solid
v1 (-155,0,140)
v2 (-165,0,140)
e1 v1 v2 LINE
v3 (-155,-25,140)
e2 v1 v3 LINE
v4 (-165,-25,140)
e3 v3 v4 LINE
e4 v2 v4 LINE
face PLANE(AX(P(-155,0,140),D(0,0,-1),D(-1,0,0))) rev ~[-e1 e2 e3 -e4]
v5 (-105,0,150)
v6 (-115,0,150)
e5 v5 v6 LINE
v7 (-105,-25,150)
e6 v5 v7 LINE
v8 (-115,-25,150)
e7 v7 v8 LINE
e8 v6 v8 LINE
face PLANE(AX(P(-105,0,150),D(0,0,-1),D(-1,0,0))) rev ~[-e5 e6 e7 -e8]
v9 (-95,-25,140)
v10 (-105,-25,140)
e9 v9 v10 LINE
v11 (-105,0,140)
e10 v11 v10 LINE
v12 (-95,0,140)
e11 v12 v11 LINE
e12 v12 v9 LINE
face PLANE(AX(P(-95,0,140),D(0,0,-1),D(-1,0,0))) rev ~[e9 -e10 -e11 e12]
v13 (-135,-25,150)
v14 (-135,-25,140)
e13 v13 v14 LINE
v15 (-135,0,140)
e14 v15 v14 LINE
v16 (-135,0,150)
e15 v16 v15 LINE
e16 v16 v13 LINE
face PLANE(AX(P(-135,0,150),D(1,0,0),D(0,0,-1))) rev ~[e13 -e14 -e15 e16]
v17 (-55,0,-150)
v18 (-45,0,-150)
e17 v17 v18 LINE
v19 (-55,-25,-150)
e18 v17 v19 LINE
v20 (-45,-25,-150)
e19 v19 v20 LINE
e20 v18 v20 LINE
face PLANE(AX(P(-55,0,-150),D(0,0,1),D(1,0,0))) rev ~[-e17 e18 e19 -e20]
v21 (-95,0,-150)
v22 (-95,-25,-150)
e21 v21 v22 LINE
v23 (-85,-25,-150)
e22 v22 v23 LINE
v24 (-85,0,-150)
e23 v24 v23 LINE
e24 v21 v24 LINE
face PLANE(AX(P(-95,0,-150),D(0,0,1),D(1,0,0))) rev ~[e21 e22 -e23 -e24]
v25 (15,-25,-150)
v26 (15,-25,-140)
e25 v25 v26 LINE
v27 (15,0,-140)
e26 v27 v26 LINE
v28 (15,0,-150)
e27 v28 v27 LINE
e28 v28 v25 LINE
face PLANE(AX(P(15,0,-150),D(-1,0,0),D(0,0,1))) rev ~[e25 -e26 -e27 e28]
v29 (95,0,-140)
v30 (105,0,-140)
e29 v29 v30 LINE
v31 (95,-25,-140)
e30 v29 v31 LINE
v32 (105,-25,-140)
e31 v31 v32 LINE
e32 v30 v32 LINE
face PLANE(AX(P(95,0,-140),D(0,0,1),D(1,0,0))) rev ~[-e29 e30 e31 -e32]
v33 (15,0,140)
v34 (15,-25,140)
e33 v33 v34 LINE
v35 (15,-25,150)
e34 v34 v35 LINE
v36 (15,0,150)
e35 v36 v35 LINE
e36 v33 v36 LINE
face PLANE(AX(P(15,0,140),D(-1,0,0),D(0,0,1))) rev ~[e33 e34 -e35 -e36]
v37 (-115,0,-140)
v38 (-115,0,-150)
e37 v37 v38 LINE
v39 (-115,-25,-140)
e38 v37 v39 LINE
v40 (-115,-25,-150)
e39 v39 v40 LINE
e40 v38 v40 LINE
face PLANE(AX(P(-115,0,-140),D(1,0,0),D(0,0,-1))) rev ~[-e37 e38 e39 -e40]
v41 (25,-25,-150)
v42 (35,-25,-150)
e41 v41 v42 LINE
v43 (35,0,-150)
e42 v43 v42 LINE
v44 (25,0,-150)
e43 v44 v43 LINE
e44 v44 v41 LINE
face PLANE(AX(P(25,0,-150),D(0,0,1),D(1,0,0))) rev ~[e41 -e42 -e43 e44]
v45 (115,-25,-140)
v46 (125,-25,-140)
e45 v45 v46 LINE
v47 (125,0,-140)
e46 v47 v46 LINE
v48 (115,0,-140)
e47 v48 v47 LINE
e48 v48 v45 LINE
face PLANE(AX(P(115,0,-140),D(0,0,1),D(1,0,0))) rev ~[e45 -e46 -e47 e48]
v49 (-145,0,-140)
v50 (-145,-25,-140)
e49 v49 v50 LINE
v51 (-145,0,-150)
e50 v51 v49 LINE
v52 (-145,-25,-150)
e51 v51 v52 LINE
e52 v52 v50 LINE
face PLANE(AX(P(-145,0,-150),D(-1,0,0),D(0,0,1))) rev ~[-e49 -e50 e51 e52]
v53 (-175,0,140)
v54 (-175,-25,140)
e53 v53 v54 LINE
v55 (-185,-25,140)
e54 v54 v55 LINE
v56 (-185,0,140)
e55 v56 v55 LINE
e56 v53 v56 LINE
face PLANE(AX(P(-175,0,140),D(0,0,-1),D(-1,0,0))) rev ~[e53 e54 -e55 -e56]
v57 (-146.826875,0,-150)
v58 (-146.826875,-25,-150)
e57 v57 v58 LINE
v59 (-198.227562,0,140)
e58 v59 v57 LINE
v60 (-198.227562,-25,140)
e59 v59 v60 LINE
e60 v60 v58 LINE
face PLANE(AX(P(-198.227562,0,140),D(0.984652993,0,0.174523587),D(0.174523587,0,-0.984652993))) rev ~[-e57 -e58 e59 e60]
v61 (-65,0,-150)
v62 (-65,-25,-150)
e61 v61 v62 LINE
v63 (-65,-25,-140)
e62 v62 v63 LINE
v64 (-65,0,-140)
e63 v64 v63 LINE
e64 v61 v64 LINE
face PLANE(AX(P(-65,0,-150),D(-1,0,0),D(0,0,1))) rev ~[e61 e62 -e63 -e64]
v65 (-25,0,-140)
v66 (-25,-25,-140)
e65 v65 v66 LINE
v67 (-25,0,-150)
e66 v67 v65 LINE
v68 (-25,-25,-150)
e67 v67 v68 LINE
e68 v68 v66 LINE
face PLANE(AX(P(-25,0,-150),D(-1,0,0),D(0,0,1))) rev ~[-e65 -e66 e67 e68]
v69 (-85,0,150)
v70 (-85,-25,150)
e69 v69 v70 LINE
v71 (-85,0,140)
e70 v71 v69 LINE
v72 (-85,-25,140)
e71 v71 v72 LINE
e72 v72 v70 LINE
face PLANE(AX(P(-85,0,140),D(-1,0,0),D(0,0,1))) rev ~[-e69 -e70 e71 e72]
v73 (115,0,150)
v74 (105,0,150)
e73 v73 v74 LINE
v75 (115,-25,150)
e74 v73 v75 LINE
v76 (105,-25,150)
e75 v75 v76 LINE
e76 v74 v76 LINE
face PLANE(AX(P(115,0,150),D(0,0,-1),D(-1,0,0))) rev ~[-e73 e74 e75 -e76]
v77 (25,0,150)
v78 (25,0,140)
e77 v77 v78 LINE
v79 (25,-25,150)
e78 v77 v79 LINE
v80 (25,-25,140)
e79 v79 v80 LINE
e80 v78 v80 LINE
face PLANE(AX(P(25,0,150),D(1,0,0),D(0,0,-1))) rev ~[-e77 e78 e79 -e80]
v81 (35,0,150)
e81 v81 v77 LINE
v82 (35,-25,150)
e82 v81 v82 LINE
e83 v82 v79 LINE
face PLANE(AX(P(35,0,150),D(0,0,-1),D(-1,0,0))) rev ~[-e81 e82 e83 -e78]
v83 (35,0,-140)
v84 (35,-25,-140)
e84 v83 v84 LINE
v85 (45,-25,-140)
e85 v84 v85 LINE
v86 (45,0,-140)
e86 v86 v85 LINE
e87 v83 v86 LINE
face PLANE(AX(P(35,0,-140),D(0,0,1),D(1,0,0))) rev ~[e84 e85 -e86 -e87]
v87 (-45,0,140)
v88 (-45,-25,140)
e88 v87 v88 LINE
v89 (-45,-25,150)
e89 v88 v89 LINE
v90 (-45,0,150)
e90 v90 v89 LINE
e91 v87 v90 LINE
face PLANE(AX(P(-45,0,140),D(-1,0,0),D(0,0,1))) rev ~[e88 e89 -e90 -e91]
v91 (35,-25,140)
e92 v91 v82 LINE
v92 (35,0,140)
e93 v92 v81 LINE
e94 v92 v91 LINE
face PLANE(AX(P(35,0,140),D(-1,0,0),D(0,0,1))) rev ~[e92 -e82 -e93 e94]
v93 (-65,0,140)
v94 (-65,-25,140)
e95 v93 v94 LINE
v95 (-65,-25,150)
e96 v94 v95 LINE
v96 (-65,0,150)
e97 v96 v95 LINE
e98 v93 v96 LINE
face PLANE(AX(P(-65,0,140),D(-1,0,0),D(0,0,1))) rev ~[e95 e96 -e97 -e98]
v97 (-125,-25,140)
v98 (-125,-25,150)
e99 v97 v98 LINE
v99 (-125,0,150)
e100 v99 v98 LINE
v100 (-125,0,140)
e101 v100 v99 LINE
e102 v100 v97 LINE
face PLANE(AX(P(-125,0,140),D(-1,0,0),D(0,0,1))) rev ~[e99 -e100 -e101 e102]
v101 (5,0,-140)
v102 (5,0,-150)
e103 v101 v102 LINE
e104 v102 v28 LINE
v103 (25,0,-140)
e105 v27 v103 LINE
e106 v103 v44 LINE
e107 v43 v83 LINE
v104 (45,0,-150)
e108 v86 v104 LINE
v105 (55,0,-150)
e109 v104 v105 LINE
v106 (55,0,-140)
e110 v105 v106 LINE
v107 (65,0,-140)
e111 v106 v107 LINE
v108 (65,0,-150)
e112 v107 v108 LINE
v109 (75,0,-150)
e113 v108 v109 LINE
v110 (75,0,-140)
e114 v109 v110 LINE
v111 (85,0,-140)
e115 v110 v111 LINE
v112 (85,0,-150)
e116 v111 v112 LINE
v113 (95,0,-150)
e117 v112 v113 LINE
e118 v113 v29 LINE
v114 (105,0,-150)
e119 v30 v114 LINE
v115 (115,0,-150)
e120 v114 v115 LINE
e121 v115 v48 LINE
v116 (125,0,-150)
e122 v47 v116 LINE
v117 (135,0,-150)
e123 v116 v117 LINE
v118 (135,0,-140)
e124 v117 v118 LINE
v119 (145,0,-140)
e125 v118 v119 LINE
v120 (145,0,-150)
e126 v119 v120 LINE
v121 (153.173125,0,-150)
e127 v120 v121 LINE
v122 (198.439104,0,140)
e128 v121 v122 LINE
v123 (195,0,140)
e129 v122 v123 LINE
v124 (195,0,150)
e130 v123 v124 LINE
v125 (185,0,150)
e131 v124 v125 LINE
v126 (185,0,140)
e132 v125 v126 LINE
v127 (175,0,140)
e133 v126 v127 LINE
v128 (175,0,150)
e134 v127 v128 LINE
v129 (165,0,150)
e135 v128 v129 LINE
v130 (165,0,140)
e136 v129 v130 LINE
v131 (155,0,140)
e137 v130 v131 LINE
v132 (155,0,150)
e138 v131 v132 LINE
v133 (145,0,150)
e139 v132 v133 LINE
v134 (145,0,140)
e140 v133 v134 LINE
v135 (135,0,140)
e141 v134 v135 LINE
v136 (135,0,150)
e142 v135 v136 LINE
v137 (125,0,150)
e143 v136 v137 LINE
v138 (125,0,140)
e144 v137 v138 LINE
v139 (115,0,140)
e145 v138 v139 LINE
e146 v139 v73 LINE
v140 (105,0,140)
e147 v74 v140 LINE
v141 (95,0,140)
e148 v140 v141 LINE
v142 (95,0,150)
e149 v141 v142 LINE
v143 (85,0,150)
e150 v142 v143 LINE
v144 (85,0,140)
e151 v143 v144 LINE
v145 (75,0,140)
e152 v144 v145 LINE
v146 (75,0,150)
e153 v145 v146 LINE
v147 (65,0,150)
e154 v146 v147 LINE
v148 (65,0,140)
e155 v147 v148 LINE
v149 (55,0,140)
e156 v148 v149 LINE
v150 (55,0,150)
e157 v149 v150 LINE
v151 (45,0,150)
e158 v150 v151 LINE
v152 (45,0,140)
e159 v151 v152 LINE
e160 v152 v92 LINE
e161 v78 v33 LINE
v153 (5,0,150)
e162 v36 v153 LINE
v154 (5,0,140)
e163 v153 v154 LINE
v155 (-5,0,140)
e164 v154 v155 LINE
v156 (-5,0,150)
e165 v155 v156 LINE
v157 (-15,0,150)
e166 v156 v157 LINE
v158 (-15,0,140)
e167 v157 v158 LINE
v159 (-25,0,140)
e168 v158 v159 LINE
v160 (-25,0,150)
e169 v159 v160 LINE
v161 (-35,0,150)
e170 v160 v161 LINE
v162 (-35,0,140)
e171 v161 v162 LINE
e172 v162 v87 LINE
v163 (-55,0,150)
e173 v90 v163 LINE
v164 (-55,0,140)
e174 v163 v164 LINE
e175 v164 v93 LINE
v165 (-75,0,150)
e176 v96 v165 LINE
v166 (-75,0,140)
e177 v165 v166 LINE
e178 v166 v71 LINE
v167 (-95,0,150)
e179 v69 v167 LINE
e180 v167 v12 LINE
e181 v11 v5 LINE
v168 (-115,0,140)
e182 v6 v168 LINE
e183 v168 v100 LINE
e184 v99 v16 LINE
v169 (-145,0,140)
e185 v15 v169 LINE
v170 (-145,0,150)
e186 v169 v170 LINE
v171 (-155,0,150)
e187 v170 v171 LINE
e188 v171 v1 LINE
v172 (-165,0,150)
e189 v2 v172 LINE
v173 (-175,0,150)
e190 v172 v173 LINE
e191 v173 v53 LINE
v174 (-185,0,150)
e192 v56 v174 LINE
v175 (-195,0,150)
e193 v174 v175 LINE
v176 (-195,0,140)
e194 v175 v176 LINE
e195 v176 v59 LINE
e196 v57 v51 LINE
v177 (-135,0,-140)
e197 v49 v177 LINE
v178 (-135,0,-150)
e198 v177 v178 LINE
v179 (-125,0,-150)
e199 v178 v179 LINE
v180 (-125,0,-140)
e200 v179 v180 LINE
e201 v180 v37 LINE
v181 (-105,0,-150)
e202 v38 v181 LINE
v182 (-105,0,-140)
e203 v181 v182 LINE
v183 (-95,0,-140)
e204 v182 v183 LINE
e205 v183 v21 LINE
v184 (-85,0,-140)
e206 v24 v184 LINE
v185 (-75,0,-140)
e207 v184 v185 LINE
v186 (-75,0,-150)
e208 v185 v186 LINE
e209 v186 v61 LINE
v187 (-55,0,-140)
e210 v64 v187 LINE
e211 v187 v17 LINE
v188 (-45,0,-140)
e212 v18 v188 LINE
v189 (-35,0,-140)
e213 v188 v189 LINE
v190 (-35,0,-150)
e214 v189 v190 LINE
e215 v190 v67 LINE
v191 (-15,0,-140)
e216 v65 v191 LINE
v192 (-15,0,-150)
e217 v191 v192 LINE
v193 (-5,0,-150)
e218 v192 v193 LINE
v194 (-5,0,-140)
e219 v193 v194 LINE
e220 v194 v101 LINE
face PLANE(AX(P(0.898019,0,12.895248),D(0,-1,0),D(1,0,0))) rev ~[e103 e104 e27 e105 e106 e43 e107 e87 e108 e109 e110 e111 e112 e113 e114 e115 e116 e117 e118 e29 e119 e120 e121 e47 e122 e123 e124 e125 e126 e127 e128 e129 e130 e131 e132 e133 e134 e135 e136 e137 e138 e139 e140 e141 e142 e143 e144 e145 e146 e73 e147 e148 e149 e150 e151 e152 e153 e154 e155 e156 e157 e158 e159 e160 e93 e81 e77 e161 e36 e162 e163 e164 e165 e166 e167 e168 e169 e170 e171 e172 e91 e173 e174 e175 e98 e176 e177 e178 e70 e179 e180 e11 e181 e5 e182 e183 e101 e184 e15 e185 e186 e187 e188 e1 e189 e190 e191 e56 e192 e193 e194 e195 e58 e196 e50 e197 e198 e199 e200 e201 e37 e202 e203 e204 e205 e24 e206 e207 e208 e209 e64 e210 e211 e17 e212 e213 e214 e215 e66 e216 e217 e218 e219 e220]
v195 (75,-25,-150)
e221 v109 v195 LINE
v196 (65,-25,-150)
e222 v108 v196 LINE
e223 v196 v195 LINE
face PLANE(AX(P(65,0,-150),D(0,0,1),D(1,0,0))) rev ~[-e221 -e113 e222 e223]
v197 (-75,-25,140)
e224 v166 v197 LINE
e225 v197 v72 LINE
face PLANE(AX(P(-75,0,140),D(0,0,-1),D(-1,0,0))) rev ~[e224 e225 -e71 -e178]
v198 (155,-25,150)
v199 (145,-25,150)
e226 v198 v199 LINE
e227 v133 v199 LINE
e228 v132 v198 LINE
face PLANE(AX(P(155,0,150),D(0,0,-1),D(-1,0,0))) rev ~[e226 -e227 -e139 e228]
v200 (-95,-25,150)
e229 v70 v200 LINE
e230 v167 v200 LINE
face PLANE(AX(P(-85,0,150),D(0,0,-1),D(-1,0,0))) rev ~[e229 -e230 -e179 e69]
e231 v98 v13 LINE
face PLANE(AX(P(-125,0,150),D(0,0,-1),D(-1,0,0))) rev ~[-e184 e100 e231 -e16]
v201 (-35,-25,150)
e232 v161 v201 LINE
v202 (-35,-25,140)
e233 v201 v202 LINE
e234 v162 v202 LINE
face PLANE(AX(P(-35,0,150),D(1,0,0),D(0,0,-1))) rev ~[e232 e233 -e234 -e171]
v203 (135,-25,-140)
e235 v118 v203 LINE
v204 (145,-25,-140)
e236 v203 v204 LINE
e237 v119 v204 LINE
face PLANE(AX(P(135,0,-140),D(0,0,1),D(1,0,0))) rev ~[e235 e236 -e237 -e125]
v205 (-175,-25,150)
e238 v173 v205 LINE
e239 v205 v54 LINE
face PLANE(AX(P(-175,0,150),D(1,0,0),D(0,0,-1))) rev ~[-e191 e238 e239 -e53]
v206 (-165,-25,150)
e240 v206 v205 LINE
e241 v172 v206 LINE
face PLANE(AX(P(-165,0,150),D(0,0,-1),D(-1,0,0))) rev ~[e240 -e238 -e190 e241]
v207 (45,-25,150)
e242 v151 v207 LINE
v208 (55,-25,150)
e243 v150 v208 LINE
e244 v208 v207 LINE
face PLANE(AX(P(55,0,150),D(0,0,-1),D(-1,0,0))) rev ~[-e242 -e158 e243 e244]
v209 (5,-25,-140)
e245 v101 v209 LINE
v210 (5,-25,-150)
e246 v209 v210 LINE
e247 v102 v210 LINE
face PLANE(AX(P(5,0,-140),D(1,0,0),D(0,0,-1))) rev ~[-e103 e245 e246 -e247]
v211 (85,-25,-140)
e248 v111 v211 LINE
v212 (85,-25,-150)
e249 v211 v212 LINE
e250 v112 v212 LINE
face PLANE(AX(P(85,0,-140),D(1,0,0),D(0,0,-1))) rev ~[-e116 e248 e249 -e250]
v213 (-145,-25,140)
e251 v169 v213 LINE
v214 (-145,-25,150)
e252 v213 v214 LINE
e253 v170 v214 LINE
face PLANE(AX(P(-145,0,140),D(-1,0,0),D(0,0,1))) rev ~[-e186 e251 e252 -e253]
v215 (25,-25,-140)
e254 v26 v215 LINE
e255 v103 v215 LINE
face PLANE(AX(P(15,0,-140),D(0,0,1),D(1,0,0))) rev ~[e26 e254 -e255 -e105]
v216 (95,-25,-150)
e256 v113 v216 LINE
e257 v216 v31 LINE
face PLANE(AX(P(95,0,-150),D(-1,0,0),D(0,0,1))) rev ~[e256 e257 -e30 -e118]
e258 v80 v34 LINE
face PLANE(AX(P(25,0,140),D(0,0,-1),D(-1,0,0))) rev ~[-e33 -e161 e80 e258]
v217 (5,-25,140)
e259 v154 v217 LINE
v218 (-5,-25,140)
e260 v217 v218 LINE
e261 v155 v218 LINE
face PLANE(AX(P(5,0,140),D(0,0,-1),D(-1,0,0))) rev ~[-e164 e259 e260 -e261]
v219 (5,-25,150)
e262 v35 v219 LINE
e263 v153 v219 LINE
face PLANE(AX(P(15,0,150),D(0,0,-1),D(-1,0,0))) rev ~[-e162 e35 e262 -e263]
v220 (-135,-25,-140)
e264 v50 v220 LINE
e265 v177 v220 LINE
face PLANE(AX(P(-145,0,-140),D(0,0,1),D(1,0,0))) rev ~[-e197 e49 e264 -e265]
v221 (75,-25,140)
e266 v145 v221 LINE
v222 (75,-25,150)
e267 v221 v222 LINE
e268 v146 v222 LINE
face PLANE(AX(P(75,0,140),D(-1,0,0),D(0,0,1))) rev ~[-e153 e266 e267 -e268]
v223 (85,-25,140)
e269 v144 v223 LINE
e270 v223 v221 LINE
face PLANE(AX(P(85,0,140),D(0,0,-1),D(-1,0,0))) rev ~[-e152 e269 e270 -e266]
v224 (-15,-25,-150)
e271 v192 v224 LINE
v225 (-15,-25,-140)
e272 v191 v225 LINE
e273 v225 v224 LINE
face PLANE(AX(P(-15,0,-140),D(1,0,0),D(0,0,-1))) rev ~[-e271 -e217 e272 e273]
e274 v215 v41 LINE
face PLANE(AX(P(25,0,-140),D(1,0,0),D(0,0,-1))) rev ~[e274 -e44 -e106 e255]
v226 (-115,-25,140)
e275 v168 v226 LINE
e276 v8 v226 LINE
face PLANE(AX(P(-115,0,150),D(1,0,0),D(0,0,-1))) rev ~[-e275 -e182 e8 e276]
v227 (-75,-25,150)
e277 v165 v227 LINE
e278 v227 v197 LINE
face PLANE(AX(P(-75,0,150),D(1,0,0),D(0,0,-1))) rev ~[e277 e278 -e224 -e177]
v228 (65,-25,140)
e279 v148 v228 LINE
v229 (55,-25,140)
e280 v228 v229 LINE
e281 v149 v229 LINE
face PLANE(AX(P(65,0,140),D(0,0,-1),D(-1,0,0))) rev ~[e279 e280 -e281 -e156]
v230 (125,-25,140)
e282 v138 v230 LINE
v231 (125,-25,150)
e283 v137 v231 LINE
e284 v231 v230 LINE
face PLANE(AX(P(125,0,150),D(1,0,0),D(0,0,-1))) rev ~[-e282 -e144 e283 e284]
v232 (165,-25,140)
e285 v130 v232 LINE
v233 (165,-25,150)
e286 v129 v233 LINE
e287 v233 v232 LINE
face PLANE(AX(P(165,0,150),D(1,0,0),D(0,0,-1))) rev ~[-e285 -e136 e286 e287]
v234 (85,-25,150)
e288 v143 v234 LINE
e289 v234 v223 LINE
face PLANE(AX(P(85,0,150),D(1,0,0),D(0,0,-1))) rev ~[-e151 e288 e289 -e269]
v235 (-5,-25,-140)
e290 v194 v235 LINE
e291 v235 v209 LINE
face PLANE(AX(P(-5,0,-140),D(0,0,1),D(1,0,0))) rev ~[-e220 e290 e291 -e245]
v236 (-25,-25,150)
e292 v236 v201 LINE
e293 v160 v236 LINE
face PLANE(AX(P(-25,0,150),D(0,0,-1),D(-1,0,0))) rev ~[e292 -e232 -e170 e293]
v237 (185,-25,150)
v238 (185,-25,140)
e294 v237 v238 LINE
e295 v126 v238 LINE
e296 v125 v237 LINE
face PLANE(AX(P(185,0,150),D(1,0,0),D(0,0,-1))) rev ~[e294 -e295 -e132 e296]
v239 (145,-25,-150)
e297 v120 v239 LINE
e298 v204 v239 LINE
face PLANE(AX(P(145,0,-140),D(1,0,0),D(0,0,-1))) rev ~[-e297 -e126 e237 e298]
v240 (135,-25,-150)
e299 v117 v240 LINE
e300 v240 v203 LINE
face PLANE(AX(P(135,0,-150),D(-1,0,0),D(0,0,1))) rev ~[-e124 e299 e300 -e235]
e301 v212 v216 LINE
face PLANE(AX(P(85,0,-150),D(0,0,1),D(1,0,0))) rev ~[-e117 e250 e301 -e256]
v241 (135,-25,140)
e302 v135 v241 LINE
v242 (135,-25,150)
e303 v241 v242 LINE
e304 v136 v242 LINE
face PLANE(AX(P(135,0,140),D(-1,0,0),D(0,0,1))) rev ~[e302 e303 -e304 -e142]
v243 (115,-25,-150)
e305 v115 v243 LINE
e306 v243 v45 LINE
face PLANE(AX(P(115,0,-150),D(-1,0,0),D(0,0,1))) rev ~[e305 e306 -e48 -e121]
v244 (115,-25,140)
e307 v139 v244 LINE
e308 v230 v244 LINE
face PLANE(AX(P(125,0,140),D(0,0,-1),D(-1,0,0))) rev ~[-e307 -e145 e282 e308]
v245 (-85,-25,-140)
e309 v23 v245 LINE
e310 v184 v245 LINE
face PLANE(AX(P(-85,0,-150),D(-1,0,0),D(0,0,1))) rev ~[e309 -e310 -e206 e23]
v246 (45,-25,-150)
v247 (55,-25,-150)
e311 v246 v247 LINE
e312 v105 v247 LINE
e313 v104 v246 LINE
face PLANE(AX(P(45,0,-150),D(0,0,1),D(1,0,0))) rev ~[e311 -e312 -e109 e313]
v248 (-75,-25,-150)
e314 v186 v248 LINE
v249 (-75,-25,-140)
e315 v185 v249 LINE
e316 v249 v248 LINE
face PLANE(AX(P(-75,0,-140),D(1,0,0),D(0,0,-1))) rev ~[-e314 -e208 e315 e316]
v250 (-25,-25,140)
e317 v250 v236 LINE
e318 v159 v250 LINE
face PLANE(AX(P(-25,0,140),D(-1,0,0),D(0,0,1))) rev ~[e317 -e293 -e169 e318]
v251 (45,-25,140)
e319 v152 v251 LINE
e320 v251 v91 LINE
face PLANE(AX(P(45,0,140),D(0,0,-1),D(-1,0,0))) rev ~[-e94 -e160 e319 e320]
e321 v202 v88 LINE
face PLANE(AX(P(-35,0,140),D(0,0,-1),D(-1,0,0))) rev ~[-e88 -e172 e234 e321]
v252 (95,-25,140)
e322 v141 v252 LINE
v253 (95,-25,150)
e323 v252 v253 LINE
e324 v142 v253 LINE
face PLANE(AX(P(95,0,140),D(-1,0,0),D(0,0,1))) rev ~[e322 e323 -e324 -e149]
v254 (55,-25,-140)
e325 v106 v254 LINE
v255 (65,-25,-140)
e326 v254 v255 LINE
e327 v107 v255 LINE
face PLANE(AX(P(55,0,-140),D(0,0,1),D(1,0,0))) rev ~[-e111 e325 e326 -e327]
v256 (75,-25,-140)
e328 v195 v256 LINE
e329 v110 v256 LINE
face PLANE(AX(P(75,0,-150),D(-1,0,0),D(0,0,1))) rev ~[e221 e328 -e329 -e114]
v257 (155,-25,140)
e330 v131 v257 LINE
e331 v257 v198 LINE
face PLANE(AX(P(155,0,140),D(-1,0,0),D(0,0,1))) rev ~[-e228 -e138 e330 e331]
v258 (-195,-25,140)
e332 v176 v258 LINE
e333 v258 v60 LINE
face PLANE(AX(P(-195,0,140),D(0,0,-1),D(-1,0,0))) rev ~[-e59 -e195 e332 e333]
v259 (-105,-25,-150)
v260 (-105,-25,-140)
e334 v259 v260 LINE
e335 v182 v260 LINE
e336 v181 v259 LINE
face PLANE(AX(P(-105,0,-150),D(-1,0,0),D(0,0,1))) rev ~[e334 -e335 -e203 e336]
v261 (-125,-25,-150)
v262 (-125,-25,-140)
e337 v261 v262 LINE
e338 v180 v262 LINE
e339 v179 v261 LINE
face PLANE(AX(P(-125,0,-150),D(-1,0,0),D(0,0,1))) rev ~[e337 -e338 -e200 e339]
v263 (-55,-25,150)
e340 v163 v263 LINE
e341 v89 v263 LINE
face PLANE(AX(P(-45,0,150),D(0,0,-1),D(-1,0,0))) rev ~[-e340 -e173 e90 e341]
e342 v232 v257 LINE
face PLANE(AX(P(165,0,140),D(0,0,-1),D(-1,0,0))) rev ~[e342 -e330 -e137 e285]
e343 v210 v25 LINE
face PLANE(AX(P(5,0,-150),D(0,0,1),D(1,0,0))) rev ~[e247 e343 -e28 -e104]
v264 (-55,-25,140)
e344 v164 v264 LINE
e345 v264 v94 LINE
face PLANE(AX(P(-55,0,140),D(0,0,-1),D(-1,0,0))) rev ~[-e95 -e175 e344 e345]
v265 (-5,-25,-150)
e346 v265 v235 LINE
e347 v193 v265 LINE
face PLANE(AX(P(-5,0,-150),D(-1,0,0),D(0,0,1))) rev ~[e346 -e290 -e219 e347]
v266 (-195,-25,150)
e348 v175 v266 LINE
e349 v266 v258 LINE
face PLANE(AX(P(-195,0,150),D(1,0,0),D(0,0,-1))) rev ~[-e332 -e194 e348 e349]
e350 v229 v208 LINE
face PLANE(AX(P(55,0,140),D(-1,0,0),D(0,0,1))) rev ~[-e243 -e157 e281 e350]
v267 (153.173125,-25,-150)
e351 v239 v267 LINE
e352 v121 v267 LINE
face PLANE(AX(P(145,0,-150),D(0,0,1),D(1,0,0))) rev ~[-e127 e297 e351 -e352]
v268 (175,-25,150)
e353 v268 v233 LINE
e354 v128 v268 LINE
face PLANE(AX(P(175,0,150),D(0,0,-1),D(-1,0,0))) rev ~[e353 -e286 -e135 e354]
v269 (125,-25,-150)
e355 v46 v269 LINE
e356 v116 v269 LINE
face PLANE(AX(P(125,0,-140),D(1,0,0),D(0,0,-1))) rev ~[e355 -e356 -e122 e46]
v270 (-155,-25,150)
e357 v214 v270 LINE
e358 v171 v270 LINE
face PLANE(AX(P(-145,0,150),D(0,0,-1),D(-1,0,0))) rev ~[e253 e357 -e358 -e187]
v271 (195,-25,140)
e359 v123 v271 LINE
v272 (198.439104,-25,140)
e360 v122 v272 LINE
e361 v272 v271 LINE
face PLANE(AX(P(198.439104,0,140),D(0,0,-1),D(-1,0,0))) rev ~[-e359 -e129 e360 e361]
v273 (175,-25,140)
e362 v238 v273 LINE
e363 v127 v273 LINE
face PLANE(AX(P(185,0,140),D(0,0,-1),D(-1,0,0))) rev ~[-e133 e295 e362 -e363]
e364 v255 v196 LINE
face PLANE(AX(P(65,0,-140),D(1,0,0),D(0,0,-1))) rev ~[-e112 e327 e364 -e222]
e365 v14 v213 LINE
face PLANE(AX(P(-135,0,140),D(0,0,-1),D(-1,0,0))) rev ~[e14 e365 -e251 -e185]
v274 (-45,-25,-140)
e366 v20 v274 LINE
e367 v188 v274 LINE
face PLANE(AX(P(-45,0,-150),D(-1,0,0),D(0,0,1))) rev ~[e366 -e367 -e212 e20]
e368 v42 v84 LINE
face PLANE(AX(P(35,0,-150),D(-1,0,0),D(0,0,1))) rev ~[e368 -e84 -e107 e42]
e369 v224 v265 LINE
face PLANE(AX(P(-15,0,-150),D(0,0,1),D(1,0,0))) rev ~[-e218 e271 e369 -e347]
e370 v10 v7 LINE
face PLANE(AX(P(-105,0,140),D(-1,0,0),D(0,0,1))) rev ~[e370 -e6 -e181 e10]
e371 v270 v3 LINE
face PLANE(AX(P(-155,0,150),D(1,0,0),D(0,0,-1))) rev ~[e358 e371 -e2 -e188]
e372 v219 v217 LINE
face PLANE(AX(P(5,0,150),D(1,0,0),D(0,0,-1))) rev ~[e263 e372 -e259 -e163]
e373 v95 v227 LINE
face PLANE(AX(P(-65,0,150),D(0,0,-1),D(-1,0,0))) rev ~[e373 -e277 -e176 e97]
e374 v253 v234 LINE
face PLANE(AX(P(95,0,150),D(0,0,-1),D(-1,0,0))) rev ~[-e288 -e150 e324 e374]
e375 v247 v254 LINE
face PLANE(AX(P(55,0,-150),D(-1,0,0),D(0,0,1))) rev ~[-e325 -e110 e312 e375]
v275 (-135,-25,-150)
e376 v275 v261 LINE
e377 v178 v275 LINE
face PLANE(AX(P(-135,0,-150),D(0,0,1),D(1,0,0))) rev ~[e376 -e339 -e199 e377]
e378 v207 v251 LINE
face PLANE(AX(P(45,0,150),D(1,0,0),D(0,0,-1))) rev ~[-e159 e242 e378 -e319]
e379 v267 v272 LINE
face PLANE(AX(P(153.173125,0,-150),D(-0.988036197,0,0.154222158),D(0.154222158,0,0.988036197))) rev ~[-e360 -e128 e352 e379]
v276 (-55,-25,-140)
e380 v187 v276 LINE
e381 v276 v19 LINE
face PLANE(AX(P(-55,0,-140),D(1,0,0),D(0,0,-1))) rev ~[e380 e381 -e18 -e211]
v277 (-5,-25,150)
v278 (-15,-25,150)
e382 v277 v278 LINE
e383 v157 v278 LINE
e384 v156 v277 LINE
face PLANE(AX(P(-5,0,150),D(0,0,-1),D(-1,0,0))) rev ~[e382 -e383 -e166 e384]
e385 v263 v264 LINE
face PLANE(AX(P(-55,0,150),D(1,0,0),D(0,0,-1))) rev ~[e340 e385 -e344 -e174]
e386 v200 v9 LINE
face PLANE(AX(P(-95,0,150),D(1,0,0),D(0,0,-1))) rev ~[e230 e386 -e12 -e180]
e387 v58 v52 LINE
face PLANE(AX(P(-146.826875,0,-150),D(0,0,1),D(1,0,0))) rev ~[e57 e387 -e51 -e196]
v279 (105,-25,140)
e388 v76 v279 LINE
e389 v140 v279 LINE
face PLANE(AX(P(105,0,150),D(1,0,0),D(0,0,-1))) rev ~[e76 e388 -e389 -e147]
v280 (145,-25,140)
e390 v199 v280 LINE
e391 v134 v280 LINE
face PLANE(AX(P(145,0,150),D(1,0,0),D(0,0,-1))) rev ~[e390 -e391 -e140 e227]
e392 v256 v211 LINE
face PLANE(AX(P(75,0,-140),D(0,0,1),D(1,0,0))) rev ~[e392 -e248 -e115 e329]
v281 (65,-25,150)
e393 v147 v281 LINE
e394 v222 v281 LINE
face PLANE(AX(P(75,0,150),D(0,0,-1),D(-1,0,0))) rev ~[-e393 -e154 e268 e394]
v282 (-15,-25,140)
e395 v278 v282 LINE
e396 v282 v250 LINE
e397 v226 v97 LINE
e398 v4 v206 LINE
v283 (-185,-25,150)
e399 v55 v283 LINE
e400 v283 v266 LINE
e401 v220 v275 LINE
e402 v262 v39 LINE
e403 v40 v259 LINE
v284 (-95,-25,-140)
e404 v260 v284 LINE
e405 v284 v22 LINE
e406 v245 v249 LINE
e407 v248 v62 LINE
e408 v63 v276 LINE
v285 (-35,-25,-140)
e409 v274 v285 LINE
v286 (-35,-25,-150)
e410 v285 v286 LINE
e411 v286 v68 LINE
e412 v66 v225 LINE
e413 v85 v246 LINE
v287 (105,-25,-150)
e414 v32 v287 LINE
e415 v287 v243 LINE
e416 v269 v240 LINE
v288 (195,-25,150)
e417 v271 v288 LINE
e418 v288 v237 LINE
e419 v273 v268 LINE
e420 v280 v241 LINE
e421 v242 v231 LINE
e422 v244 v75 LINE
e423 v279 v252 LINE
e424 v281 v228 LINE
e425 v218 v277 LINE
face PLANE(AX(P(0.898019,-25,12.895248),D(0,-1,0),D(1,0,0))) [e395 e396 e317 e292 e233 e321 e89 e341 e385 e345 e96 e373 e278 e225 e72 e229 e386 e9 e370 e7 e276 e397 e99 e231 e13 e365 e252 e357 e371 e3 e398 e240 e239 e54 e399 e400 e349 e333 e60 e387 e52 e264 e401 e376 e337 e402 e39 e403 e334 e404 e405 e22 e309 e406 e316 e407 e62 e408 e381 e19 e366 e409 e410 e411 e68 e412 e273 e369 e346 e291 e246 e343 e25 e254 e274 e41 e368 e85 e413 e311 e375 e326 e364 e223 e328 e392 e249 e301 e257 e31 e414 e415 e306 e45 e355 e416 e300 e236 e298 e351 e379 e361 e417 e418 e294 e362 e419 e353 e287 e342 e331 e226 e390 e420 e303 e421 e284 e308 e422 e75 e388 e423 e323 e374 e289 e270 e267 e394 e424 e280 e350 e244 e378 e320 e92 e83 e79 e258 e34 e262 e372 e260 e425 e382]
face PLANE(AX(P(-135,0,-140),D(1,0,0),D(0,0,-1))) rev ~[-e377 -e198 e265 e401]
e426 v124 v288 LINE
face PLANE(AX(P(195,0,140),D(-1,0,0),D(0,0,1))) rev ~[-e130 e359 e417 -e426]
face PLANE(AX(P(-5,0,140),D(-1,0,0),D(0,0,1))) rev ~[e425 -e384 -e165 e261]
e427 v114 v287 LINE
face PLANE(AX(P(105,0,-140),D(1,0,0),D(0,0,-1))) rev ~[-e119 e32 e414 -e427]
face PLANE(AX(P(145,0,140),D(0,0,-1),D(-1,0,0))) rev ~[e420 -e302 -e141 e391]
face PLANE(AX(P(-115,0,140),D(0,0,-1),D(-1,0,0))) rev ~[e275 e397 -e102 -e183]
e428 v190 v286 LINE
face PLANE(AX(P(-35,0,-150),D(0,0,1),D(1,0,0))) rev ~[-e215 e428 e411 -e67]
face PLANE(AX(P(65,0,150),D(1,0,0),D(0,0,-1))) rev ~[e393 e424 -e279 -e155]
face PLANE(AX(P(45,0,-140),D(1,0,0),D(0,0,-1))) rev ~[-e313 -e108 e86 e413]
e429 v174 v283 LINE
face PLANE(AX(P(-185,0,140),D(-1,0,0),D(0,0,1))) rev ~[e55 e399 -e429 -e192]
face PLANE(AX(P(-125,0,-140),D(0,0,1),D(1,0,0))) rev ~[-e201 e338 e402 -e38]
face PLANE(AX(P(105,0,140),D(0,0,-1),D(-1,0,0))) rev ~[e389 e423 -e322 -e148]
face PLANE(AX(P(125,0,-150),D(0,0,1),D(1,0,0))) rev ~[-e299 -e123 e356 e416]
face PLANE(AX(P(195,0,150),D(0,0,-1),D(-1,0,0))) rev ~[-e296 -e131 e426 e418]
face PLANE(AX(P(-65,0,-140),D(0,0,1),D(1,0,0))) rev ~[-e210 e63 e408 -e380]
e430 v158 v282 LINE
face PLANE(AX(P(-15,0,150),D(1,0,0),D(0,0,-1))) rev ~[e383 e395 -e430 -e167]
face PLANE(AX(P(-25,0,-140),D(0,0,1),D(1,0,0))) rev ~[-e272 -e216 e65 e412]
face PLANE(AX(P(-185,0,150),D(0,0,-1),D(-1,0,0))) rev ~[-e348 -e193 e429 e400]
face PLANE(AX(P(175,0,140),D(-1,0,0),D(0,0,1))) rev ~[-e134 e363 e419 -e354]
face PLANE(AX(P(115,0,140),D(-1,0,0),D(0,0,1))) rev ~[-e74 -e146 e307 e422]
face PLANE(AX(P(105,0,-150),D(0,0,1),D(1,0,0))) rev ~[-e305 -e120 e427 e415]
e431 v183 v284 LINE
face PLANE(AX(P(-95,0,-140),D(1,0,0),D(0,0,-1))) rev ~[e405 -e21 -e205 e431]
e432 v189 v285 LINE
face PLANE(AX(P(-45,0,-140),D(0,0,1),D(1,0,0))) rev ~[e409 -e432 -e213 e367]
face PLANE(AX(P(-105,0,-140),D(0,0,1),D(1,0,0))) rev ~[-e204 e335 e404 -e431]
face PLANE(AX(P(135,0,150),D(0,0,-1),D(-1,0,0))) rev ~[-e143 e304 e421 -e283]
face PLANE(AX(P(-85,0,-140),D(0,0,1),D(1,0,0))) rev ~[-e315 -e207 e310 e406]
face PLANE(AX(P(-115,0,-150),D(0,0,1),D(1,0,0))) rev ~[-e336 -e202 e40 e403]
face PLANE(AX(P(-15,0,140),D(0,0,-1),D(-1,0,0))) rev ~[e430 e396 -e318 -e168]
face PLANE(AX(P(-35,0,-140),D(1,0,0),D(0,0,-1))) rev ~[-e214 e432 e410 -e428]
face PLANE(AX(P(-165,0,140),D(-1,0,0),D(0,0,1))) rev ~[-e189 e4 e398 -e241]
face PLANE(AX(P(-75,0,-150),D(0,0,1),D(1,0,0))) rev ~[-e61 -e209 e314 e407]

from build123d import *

# Parameters (mm, degrees)
F1_DEPTH = 25


with BuildPart() as f1:
    # F0 (on Front) → F1 (new body)
    with BuildSketch(Plane.XZ):
        Polygon((195, 140), (195, 150), (185, 150), (185, 140), (175, 140), (175, 150), (165, 150), (165, 140), (155, 140), (155, 150), (145, 150), (145, 140), (135, 140), (135, 150), (125, 150), (125, 140), (115, 140), (115, 150), (105, 150), (105, 140), (95, 140), (95, 150), (85, 150), (85, 140), (75, 140), (75, 150), (65, 150), (65, 140), (55, 140), (55, 150), (45, 150), (45, 140), (35, 140), (35, 150), (25, 150), (25, 140), (15, 140), (15, 150), (5, 150), (5, 140), (-5, 140), (-5, 150), (-15, 150), (-15, 140), (-25, 140), (-25, 150), (-35, 150), (-35, 140), (-45, 140), (-45, 150), (-55, 150), (-55, 140), (-65, 140), (-65, 150), (-75, 150), (-75, 140), (-85, 140), (-85, 150), (-95, 150), (-95, 140), (-105, 140), (-105, 150), (-115, 150), (-115, 140), (-125, 140), (-125, 150), (-135, 150), (-135, 140), (-145, 140), (-145, 150), (-155, 150), (-155, 140), (-165, 140), (-165, 150), (-175, 150), (-175, 140), (-185, 140), (-185, 150), (-195, 150), (-195, 140), (-198.227562, 140), (-146.826875, -150), (-145, -150), (-145, -140), (-135, -140), (-135, -150), (-125, -150), (-125, -140), (-115, -140), (-115, -150), (-105, -150), (-105, -140), (-95, -140), (-95, -150), (-85, -150), (-85, -140), (-75, -140), (-75, -150), (-65, -150), (-65, -140), (-55, -140), (-55, -150), (-45, -150), (-45, -140), (-35, -140), (-35, -150), (-25, -150), (-25, -140), (-15, -140), (-15, -150), (-5, -150), (-5, -140), (5, -140), (5, -150), (15, -150), (15, -140), (25, -140), (25, -150), (35, -150), (35, -140), (45, -140), (45, -150), (55, -150), (55, -140), (65, -140), (65, -150), (75, -150), (75, -140), (85, -140), (85, -150), (95, -150), (95, -140), (105, -140), (105, -150), (115, -150), (115, -140), (125, -140), (125, -150), (135, -150), (135, -140), (145, -140), (145, -150), (153.173125, -150), (198.439104, 140), align=None)
    extrude(amount=F1_DEPTH)


solid = f1.part
